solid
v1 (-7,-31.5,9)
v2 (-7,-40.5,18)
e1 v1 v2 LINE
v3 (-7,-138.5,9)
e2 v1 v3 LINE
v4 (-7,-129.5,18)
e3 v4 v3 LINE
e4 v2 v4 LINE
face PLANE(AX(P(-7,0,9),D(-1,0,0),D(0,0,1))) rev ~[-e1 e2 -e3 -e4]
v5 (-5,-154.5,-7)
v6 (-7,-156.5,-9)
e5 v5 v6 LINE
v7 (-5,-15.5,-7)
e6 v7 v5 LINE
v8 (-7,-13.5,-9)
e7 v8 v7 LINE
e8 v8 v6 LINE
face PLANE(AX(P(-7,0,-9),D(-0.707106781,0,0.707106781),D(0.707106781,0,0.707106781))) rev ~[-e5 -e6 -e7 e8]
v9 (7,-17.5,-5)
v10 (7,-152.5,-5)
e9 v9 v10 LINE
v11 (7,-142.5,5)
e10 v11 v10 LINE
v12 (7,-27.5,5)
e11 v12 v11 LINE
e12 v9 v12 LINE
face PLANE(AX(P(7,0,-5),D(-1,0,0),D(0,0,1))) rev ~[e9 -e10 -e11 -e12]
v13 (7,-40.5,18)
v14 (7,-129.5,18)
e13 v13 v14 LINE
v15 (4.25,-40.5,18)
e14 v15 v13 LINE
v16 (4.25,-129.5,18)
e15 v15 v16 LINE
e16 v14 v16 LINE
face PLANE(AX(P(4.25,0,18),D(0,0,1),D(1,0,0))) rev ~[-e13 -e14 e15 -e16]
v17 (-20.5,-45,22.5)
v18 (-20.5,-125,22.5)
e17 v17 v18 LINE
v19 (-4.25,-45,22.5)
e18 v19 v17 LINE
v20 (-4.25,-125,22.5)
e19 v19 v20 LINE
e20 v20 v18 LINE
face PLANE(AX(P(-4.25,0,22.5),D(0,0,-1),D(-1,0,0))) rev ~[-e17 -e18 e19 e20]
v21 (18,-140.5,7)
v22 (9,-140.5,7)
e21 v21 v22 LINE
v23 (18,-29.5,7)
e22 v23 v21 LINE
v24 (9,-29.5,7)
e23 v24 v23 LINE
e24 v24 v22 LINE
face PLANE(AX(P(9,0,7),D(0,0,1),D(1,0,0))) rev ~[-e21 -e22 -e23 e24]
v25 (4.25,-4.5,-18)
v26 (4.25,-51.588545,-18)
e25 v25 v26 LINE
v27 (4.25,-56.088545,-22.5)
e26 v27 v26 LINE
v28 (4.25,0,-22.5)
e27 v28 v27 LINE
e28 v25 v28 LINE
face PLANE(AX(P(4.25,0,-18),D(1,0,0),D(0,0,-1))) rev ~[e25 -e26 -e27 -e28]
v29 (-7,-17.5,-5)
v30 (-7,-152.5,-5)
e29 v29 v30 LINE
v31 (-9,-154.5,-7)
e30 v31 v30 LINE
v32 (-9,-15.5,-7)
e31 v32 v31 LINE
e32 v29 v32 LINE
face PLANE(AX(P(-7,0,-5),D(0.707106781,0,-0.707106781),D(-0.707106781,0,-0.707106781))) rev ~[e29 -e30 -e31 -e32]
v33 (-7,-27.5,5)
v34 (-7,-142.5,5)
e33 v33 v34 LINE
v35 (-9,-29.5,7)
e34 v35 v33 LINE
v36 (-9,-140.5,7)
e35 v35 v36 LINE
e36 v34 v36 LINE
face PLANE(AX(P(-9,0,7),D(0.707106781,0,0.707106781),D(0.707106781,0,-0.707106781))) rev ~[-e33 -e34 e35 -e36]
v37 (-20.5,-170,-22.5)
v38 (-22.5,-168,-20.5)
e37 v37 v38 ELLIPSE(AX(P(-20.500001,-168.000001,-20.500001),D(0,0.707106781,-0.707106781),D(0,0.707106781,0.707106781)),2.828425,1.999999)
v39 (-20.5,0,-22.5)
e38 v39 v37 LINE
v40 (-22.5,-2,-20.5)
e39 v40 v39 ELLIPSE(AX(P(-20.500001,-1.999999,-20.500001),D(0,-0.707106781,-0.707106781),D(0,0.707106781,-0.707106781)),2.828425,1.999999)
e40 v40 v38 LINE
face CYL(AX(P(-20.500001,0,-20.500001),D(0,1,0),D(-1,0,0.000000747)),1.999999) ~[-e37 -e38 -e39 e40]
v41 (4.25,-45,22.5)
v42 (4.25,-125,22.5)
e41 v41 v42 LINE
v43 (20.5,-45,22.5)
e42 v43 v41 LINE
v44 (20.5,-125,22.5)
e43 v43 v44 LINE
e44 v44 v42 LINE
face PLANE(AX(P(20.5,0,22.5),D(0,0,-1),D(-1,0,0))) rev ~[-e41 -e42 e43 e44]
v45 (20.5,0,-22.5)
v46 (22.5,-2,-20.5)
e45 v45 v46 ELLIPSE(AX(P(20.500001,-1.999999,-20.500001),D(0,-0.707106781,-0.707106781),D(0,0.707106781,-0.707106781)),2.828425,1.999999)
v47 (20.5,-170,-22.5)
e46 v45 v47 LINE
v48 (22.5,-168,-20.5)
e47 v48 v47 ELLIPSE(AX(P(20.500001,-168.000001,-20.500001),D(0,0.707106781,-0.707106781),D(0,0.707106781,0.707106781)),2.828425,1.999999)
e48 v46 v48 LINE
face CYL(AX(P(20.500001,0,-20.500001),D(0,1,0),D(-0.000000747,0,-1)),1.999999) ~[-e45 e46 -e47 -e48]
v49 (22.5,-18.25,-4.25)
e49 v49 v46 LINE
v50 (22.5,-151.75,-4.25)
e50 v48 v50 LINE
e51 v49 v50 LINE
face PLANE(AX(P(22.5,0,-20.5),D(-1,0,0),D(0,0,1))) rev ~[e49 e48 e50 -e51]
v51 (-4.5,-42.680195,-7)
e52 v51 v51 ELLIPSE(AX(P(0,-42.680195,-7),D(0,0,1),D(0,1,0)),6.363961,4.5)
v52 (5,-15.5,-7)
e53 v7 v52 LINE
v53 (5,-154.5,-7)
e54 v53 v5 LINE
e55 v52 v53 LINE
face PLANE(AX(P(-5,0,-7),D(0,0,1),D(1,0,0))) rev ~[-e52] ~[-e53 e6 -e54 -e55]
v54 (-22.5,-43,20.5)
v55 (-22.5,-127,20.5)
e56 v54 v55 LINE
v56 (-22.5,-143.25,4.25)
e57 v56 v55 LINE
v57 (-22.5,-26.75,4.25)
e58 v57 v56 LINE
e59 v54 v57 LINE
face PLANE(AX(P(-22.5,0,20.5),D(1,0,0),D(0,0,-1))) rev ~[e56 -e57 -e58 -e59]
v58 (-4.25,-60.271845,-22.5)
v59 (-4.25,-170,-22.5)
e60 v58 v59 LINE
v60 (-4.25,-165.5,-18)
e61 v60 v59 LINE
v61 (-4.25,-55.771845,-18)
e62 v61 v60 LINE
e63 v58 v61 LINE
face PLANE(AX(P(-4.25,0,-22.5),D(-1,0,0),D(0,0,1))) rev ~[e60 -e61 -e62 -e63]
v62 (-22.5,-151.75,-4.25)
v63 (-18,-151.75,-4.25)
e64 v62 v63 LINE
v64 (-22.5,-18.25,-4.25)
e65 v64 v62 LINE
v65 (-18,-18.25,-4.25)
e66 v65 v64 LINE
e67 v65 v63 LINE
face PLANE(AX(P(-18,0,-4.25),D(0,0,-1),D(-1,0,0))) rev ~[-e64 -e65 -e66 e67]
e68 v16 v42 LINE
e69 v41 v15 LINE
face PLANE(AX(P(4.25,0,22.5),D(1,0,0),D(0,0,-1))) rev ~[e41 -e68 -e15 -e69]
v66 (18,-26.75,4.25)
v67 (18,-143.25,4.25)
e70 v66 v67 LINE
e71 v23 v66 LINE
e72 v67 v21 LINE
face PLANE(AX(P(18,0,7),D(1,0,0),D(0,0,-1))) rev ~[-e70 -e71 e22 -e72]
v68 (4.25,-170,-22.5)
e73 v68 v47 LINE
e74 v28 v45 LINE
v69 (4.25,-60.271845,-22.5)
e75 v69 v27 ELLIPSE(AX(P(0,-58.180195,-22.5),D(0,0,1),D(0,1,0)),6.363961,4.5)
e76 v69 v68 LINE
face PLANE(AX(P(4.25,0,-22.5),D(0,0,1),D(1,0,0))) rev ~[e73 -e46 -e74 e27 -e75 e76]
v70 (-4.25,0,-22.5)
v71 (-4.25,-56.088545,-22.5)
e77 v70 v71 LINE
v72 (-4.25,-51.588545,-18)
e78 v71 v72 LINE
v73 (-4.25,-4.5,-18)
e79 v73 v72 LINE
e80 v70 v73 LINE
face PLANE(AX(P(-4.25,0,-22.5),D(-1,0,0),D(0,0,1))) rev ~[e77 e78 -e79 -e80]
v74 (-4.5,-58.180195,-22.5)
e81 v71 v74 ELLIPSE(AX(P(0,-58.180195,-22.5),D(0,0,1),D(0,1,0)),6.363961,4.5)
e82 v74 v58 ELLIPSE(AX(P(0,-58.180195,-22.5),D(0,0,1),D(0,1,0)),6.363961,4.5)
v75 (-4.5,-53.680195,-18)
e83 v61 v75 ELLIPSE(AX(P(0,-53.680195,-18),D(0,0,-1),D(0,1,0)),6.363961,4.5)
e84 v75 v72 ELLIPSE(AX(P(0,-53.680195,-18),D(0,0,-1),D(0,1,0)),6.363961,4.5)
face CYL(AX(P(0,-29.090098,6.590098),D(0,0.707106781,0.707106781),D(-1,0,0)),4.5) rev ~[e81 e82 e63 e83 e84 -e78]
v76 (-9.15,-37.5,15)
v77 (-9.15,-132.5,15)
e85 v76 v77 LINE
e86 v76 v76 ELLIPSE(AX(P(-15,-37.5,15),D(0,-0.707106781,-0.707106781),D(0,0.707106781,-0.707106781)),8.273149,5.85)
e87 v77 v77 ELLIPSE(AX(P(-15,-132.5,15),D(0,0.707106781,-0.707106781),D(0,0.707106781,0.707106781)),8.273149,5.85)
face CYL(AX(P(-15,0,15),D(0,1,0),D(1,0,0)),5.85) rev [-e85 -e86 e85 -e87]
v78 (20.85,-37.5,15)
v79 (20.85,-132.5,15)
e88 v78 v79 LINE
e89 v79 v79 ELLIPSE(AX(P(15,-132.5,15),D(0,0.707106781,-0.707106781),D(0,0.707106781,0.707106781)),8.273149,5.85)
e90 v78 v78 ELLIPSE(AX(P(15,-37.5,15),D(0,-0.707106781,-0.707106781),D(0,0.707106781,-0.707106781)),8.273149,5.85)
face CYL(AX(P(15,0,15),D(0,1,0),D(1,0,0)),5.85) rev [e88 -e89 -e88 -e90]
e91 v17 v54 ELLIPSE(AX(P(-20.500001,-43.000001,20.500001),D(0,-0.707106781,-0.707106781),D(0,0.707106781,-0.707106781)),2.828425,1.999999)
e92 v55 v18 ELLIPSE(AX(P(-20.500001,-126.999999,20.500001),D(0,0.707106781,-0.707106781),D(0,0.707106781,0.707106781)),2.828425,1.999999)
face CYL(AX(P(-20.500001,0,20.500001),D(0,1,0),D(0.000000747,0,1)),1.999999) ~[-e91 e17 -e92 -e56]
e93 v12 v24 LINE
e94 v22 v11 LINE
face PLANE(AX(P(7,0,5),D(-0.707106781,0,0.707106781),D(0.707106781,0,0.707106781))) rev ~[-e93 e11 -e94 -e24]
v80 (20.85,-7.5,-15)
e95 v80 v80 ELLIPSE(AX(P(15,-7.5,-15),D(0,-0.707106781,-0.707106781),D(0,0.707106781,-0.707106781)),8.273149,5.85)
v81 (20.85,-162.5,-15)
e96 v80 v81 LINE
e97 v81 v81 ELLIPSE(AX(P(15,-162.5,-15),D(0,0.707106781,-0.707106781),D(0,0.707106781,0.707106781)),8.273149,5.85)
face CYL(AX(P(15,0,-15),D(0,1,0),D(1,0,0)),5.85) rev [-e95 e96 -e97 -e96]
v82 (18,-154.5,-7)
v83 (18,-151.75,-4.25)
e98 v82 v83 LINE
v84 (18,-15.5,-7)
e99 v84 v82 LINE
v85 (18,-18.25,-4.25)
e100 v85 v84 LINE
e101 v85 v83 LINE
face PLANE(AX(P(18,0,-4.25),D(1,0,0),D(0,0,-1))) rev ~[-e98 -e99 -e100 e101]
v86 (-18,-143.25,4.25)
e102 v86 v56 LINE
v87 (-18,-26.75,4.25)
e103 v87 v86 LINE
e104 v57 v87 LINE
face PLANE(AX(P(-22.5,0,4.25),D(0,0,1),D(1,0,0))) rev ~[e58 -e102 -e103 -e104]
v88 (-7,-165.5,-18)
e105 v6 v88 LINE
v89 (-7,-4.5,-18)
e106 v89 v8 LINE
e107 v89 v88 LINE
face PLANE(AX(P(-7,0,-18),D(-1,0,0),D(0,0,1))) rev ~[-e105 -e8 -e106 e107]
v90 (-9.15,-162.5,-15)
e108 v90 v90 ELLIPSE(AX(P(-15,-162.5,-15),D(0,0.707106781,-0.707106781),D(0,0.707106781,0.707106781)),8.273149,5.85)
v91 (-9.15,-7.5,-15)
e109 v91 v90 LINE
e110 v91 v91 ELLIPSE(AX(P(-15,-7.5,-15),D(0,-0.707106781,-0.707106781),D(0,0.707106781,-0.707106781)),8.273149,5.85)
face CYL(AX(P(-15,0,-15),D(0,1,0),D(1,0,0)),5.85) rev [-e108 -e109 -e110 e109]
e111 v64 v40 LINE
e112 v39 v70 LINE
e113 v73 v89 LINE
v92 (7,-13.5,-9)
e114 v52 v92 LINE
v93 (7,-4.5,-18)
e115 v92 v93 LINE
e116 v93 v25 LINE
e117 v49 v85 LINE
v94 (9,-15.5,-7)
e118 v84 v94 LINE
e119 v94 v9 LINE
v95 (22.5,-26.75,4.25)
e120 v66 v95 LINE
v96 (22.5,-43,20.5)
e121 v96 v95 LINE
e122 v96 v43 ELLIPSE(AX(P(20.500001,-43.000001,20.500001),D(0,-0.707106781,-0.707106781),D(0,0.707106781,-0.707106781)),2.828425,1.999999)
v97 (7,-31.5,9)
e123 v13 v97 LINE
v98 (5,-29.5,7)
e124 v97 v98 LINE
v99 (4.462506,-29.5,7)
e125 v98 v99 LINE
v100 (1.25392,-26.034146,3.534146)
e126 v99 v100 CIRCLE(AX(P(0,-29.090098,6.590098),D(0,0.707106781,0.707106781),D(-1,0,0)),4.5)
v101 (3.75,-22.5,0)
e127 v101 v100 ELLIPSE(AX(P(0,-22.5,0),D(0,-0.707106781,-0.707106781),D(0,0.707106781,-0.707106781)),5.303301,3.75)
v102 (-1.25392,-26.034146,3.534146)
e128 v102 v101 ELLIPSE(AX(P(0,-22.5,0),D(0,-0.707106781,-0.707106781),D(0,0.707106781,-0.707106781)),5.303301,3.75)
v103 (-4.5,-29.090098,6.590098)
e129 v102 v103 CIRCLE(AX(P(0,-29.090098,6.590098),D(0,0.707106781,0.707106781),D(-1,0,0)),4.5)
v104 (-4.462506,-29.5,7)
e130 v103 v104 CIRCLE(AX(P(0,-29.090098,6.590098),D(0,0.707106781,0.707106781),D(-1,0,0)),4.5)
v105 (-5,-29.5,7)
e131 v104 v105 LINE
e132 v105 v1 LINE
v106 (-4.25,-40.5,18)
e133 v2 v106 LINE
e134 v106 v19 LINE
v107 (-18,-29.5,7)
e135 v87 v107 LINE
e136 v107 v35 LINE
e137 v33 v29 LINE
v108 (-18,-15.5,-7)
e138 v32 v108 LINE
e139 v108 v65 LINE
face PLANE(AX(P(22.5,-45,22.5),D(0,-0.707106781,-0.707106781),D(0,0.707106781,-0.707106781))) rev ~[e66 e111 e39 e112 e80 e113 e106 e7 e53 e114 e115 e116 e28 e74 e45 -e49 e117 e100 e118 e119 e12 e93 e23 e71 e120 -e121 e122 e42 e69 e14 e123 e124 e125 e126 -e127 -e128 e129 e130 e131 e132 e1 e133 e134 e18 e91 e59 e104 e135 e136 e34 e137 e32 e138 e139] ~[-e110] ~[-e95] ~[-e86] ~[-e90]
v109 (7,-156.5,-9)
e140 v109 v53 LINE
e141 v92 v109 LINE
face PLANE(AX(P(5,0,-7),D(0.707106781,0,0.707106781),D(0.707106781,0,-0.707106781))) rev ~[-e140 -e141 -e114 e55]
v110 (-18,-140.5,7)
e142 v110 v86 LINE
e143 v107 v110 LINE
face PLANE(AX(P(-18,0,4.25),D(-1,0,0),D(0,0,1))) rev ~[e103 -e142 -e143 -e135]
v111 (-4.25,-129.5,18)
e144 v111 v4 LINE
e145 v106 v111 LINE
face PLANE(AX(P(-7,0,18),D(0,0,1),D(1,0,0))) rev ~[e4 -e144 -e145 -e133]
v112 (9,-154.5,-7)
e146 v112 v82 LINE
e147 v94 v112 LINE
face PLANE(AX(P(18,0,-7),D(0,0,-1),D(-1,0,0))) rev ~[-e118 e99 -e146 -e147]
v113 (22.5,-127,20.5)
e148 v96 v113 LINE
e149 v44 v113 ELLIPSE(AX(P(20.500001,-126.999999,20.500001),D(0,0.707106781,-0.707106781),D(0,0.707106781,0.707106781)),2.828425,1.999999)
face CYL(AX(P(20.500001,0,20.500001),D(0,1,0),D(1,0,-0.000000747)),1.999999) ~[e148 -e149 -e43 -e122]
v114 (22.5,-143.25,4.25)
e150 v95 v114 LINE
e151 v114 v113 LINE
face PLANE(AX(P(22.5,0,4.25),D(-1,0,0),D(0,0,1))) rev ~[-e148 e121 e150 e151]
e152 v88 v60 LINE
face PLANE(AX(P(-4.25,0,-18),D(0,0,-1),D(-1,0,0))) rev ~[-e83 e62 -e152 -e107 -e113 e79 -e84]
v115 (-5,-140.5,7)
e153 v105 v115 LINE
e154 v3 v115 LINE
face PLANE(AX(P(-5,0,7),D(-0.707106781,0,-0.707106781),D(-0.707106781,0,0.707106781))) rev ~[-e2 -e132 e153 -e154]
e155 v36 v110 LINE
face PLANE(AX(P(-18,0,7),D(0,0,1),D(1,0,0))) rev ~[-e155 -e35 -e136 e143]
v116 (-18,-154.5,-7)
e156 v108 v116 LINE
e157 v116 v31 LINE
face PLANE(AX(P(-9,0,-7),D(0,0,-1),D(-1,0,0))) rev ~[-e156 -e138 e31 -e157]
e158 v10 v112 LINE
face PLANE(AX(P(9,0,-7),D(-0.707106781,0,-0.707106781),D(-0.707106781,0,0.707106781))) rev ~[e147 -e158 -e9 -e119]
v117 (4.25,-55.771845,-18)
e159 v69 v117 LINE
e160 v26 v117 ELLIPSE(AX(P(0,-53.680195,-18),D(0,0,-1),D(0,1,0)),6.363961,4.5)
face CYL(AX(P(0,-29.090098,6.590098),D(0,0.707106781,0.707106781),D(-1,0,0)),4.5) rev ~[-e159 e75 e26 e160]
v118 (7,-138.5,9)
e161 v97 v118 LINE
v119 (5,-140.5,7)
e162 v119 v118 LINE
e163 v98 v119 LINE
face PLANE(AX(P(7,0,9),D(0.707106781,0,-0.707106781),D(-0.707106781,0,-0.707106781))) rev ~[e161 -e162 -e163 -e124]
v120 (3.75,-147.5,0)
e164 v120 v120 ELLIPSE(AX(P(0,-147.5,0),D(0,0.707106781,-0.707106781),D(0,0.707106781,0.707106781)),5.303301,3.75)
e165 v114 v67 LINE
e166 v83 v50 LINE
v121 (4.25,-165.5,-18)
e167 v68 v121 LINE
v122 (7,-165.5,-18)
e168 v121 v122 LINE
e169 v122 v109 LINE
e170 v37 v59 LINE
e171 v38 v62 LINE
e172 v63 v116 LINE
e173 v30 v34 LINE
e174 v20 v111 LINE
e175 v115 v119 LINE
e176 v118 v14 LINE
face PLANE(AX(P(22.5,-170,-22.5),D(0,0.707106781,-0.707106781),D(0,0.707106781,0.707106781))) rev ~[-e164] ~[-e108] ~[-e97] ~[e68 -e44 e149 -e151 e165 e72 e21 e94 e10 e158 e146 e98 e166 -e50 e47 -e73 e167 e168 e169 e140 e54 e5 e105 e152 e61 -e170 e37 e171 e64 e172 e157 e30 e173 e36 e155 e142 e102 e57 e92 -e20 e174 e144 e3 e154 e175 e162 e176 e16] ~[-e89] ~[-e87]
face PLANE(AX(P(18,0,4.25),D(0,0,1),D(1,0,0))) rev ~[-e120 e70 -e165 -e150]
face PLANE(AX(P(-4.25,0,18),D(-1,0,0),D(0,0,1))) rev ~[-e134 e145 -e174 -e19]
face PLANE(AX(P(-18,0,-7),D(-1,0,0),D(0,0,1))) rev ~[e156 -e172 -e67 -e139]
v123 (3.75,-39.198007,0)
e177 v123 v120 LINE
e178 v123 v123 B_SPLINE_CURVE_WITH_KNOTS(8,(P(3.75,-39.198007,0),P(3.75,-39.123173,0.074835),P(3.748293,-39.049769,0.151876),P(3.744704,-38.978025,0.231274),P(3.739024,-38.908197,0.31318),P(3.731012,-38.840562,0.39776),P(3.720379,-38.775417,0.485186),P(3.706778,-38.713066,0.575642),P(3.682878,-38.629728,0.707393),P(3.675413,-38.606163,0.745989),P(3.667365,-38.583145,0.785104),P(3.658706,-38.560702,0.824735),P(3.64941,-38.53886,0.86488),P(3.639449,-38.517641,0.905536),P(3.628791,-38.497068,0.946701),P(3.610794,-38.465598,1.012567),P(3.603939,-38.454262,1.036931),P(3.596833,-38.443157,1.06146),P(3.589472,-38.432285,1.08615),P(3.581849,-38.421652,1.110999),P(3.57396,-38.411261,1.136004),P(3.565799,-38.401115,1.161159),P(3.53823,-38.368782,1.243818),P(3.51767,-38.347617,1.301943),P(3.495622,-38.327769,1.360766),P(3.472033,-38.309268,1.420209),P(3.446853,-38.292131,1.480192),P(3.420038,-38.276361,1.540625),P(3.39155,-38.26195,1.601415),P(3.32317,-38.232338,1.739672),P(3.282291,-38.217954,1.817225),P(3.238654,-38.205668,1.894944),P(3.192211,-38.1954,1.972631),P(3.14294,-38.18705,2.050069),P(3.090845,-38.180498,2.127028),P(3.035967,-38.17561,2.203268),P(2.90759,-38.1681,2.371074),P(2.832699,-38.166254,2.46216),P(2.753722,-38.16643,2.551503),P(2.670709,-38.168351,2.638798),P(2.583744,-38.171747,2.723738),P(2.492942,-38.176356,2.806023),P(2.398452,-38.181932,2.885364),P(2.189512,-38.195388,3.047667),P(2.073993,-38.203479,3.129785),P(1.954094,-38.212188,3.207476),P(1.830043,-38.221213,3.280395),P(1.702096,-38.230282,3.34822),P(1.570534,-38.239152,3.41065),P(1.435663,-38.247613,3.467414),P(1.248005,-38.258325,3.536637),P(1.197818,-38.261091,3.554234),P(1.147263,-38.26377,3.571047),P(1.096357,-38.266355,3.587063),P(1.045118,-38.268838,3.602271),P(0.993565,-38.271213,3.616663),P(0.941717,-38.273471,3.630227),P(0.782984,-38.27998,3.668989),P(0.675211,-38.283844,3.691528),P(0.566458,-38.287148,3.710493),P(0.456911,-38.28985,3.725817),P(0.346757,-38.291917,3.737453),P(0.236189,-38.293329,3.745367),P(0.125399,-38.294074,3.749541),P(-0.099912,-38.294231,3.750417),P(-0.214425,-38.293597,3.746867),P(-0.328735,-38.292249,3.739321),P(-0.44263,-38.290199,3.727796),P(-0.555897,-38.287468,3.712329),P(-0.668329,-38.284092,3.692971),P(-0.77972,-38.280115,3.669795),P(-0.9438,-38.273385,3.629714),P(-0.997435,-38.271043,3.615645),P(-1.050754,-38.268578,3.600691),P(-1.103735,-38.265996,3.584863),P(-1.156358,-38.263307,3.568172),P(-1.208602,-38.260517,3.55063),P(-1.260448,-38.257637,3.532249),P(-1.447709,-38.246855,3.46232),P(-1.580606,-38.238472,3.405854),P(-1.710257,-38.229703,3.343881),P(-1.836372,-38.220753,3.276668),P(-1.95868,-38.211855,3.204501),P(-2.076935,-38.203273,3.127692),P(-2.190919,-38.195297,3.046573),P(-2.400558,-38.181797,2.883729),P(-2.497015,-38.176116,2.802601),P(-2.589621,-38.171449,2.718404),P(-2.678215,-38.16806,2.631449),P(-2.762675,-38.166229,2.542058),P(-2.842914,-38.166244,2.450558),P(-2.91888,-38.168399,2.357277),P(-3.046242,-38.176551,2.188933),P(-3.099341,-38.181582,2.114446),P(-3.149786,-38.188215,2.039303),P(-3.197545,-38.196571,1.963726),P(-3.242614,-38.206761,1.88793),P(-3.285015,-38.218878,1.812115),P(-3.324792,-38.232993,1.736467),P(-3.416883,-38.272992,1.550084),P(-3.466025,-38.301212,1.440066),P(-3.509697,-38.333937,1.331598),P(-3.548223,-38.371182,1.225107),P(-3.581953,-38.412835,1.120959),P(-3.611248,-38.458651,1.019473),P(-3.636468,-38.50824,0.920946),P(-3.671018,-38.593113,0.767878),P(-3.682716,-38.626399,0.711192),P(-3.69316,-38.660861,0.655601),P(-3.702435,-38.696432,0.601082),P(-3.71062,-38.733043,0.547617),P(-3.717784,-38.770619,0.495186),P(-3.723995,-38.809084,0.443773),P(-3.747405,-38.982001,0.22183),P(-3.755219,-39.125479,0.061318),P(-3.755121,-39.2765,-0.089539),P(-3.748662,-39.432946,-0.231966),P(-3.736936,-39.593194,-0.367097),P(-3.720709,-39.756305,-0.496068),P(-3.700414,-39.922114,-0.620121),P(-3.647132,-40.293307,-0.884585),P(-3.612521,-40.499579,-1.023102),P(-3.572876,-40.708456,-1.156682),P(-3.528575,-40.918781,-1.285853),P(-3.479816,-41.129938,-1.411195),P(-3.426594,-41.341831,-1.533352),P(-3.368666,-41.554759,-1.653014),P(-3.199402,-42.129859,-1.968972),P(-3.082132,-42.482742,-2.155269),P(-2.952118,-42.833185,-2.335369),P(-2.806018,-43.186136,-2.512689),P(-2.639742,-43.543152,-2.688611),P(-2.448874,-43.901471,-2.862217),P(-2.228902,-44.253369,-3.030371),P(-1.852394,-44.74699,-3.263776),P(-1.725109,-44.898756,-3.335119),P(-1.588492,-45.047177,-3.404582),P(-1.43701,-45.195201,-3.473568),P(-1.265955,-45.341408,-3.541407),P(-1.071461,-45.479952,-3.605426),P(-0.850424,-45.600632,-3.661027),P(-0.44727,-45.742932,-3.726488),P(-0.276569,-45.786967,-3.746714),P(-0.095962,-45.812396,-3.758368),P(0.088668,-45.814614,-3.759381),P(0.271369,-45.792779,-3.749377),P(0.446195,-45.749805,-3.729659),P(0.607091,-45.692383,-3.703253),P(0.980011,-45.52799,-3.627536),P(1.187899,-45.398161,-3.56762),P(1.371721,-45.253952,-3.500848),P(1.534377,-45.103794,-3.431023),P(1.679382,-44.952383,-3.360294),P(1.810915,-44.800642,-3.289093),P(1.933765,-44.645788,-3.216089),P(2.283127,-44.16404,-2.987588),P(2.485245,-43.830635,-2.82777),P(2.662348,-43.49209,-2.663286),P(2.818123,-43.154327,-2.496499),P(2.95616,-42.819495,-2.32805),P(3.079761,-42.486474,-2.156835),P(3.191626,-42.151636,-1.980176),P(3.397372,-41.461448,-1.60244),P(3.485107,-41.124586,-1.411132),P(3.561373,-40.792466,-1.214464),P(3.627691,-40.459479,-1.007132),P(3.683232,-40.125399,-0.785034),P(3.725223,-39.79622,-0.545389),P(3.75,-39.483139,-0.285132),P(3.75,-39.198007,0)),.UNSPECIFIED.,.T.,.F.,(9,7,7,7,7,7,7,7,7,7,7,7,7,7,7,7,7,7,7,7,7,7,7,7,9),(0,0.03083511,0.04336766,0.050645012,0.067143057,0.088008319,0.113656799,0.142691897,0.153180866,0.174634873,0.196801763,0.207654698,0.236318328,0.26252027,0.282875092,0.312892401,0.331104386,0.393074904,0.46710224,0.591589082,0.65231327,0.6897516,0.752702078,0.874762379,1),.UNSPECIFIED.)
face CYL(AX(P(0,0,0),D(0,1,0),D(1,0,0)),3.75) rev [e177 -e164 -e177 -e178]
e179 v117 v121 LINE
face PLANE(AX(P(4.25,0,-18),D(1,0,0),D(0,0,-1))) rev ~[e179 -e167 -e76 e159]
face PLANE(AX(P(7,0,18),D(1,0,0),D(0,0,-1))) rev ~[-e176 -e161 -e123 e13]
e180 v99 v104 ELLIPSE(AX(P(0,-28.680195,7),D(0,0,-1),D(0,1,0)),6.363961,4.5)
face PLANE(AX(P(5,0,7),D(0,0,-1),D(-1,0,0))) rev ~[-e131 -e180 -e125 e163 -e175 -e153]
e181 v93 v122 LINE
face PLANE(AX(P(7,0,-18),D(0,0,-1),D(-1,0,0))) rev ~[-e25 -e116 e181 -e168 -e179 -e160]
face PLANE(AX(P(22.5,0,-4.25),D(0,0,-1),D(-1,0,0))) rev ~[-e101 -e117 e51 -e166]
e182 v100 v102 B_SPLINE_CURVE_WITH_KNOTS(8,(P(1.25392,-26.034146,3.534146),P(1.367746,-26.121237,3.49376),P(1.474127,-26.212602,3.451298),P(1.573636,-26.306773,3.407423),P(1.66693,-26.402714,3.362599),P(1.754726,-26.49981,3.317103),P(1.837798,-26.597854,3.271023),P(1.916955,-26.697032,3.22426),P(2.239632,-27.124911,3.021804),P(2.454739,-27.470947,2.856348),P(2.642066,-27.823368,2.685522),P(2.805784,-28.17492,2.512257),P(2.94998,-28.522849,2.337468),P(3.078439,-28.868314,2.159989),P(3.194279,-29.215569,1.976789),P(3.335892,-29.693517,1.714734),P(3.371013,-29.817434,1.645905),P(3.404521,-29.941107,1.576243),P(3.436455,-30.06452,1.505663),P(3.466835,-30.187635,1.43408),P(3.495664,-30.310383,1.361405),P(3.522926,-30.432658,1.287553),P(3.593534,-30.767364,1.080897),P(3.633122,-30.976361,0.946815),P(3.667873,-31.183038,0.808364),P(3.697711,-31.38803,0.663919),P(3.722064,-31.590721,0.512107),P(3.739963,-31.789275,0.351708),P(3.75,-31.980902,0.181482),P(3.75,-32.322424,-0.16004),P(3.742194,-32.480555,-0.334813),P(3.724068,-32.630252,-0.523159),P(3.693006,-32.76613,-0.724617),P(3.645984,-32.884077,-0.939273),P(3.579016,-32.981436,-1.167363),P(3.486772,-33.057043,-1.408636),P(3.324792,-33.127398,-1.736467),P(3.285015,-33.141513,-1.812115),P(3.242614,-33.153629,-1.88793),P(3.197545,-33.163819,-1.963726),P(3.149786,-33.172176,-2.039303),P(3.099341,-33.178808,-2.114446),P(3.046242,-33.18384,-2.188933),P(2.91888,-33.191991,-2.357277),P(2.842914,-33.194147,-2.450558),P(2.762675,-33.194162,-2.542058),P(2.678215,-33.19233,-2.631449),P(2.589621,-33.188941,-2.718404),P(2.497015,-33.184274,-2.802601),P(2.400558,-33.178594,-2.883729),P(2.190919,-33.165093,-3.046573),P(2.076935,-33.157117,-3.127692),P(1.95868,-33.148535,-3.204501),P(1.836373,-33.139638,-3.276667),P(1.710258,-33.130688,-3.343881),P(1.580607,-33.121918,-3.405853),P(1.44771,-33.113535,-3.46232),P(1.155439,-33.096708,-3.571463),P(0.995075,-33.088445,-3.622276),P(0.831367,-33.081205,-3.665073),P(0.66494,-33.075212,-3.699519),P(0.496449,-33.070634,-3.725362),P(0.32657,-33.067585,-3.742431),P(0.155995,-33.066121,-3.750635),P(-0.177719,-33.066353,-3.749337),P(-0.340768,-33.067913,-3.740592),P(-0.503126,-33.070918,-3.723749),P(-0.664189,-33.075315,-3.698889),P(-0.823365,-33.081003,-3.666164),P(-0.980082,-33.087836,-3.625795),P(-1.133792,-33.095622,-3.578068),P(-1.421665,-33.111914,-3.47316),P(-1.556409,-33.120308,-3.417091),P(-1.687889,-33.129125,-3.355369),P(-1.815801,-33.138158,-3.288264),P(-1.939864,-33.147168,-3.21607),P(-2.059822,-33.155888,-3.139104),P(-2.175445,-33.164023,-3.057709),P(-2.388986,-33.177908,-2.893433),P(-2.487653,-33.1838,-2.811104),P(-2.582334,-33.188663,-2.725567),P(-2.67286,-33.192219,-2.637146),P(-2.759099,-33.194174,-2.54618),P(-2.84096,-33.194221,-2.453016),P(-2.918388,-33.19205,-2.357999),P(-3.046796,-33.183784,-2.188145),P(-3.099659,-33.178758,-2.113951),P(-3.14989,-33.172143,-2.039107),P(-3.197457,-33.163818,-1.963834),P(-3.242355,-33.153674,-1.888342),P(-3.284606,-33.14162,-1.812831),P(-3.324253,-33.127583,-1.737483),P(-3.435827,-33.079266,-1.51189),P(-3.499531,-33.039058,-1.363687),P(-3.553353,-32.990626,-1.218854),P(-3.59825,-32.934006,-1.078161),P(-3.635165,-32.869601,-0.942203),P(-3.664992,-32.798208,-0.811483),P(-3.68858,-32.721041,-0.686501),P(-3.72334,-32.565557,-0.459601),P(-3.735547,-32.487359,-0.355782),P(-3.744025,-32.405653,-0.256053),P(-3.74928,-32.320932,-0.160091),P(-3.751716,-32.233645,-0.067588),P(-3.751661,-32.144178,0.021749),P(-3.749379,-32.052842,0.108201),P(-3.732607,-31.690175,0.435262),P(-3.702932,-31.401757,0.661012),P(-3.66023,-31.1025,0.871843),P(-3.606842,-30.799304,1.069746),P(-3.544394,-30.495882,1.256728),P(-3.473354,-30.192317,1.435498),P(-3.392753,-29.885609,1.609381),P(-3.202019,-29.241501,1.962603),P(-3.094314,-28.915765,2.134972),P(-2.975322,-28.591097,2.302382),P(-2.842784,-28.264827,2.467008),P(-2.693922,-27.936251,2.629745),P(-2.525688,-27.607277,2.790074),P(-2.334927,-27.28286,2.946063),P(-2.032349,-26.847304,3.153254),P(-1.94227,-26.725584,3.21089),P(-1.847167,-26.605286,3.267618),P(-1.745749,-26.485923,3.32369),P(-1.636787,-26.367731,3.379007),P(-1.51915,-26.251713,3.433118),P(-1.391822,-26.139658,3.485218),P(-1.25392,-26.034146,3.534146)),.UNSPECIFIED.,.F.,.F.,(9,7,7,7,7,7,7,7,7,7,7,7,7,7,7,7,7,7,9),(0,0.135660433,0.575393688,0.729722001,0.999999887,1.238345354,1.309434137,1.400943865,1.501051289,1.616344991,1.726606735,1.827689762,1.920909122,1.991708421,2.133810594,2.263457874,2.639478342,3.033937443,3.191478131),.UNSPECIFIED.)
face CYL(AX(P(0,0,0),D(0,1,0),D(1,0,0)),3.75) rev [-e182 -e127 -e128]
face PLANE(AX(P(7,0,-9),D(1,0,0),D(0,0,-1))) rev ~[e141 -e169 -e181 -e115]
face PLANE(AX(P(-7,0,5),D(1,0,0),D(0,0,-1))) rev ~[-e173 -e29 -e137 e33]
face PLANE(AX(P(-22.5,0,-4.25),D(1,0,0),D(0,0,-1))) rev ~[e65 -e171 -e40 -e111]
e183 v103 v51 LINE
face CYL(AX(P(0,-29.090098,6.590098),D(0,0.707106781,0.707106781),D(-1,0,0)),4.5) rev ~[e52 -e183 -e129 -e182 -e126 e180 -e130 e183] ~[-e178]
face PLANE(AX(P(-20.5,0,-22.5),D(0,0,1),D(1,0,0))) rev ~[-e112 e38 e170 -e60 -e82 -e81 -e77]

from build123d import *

# Parameters (mm, degrees)
F0_R     = 5.85
F0_R_2   = 3.75
F1_DEPTH = 170
F3_DEPTH = 45.001
F4_R     = 4.5
F5_DEPTH = 120.209153


with BuildPart() as f1:
    # F0 (on Front) → F1 (new body)
    with BuildSketch(Plane.XZ):
        with BuildLine():
            ThreePointArc((22.5, 20.5), (21.914214, 21.914214), (20.5, 22.5))
            Line((20.5, 22.5), (4.25, 22.5))
            Line((4.25, 22.5), (4.25, 18))
            Line((4.25, 18), (7, 18))
            Line((7, 18), (7, 9))
            Line((7, 9), (5, 7))
            Line((5, 7), (-5, 7))
            Line((-5, 7), (-7, 9))
            Line((-7, 9), (-7, 18))
            Line((-7, 18), (-4.25, 18))
            Line((-4.25, 18), (-4.25, 22.5))
            Line((-4.25, 22.5), (-20.5, 22.5))
            ThreePointArc((-20.5, 22.5), (-21.914214, 21.914214), (-22.5, 20.5))
            Line((-22.5, 20.5), (-22.5, 4.25))
            Line((-22.5, 4.25), (-18, 4.25))
            Line((-18, 4.25), (-18, 7))
            Line((-18, 7), (-9, 7))
            Line((-9, 7), (-7, 5))
            Line((-7, 5), (-7, -5))
            Line((-7, -5), (-9, -7))
            Line((-9, -7), (-18, -7))
            Line((-18, -7), (-18, -4.25))
            Line((-18, -4.25), (-22.5, -4.25))
            Line((-22.5, -4.25), (-22.5, -20.5))
            ThreePointArc((-22.5, -20.5), (-21.914214, -21.914214), (-20.5, -22.5))
            Line((-20.5, -22.5), (-4.25, -22.5))
            Line((-4.25, -22.5), (-4.25, -18))
            Line((-4.25, -18), (-7, -18))
            Line((-7, -18), (-7, -9))
            Line((-7, -9), (-5, -7))
            Line((-5, -7), (5, -7))
            Line((5, -7), (7, -9))
            Line((7, -9), (7, -18))
            Line((7, -18), (4.25, -18))
            Line((4.25, -18), (4.25, -22.5))
            Line((4.25, -22.5), (20.5, -22.5))
            ThreePointArc((20.5, -22.5), (21.914214, -21.914214), (22.5, -20.5))
            Line((22.5, -20.5), (22.5, -4.25))
            Line((22.5, -4.25), (18, -4.25))
            Line((18, -4.25), (18, -7))
            Line((18, -7), (9, -7))
            Line((9, -7), (7, -5))
            Line((7, -5), (7, 5))
            Line((7, 5), (9, 7))
            Line((9, 7), (18, 7))
            Line((18, 7), (18, 4.25))
            Line((18, 4.25), (22.5, 4.25))
            Line((22.5, 4.25), (22.5, 20.5))
        make_face()
        with Locations((-15, -15)):
            Circle(F0_R, mode=Mode.SUBTRACT)
        with Locations((15, -15)):
            Circle(F0_R, mode=Mode.SUBTRACT)
        with Locations((-15, 15)):
            Circle(F0_R, mode=Mode.SUBTRACT)
        Circle(F0_R_2, mode=Mode.SUBTRACT)
        with Locations((15, 15)):
            Circle(F0_R, mode=Mode.SUBTRACT)
    extrude(amount=F1_DEPTH)

    # F2 (on face) → F3 (cut, through all)
    with BuildSketch(Plane.YZ.offset(22.5)):
        Polygon((-170, 22.5), (-170, -22.5), (-125, 22.5), align=None)
        Polygon((0, -22.5), (0, 22.5), (-45, 22.5), align=None)
    extrude(amount=-F3_DEPTH, mode=Mode.SUBTRACT)

    # F4 (on face) → F5 (cut, through all)
    with BuildSketch(Plane(origin=(0, -11.25, -11.25), x_dir=(-1, 0, 0), z_dir=(0, 0.707107, 0.707107))):
        with Locations((0, 25.229708)):
            Circle(F4_R)
    extrude(amount=-F5_DEPTH, mode=Mode.SUBTRACT)


solid = f1.part
